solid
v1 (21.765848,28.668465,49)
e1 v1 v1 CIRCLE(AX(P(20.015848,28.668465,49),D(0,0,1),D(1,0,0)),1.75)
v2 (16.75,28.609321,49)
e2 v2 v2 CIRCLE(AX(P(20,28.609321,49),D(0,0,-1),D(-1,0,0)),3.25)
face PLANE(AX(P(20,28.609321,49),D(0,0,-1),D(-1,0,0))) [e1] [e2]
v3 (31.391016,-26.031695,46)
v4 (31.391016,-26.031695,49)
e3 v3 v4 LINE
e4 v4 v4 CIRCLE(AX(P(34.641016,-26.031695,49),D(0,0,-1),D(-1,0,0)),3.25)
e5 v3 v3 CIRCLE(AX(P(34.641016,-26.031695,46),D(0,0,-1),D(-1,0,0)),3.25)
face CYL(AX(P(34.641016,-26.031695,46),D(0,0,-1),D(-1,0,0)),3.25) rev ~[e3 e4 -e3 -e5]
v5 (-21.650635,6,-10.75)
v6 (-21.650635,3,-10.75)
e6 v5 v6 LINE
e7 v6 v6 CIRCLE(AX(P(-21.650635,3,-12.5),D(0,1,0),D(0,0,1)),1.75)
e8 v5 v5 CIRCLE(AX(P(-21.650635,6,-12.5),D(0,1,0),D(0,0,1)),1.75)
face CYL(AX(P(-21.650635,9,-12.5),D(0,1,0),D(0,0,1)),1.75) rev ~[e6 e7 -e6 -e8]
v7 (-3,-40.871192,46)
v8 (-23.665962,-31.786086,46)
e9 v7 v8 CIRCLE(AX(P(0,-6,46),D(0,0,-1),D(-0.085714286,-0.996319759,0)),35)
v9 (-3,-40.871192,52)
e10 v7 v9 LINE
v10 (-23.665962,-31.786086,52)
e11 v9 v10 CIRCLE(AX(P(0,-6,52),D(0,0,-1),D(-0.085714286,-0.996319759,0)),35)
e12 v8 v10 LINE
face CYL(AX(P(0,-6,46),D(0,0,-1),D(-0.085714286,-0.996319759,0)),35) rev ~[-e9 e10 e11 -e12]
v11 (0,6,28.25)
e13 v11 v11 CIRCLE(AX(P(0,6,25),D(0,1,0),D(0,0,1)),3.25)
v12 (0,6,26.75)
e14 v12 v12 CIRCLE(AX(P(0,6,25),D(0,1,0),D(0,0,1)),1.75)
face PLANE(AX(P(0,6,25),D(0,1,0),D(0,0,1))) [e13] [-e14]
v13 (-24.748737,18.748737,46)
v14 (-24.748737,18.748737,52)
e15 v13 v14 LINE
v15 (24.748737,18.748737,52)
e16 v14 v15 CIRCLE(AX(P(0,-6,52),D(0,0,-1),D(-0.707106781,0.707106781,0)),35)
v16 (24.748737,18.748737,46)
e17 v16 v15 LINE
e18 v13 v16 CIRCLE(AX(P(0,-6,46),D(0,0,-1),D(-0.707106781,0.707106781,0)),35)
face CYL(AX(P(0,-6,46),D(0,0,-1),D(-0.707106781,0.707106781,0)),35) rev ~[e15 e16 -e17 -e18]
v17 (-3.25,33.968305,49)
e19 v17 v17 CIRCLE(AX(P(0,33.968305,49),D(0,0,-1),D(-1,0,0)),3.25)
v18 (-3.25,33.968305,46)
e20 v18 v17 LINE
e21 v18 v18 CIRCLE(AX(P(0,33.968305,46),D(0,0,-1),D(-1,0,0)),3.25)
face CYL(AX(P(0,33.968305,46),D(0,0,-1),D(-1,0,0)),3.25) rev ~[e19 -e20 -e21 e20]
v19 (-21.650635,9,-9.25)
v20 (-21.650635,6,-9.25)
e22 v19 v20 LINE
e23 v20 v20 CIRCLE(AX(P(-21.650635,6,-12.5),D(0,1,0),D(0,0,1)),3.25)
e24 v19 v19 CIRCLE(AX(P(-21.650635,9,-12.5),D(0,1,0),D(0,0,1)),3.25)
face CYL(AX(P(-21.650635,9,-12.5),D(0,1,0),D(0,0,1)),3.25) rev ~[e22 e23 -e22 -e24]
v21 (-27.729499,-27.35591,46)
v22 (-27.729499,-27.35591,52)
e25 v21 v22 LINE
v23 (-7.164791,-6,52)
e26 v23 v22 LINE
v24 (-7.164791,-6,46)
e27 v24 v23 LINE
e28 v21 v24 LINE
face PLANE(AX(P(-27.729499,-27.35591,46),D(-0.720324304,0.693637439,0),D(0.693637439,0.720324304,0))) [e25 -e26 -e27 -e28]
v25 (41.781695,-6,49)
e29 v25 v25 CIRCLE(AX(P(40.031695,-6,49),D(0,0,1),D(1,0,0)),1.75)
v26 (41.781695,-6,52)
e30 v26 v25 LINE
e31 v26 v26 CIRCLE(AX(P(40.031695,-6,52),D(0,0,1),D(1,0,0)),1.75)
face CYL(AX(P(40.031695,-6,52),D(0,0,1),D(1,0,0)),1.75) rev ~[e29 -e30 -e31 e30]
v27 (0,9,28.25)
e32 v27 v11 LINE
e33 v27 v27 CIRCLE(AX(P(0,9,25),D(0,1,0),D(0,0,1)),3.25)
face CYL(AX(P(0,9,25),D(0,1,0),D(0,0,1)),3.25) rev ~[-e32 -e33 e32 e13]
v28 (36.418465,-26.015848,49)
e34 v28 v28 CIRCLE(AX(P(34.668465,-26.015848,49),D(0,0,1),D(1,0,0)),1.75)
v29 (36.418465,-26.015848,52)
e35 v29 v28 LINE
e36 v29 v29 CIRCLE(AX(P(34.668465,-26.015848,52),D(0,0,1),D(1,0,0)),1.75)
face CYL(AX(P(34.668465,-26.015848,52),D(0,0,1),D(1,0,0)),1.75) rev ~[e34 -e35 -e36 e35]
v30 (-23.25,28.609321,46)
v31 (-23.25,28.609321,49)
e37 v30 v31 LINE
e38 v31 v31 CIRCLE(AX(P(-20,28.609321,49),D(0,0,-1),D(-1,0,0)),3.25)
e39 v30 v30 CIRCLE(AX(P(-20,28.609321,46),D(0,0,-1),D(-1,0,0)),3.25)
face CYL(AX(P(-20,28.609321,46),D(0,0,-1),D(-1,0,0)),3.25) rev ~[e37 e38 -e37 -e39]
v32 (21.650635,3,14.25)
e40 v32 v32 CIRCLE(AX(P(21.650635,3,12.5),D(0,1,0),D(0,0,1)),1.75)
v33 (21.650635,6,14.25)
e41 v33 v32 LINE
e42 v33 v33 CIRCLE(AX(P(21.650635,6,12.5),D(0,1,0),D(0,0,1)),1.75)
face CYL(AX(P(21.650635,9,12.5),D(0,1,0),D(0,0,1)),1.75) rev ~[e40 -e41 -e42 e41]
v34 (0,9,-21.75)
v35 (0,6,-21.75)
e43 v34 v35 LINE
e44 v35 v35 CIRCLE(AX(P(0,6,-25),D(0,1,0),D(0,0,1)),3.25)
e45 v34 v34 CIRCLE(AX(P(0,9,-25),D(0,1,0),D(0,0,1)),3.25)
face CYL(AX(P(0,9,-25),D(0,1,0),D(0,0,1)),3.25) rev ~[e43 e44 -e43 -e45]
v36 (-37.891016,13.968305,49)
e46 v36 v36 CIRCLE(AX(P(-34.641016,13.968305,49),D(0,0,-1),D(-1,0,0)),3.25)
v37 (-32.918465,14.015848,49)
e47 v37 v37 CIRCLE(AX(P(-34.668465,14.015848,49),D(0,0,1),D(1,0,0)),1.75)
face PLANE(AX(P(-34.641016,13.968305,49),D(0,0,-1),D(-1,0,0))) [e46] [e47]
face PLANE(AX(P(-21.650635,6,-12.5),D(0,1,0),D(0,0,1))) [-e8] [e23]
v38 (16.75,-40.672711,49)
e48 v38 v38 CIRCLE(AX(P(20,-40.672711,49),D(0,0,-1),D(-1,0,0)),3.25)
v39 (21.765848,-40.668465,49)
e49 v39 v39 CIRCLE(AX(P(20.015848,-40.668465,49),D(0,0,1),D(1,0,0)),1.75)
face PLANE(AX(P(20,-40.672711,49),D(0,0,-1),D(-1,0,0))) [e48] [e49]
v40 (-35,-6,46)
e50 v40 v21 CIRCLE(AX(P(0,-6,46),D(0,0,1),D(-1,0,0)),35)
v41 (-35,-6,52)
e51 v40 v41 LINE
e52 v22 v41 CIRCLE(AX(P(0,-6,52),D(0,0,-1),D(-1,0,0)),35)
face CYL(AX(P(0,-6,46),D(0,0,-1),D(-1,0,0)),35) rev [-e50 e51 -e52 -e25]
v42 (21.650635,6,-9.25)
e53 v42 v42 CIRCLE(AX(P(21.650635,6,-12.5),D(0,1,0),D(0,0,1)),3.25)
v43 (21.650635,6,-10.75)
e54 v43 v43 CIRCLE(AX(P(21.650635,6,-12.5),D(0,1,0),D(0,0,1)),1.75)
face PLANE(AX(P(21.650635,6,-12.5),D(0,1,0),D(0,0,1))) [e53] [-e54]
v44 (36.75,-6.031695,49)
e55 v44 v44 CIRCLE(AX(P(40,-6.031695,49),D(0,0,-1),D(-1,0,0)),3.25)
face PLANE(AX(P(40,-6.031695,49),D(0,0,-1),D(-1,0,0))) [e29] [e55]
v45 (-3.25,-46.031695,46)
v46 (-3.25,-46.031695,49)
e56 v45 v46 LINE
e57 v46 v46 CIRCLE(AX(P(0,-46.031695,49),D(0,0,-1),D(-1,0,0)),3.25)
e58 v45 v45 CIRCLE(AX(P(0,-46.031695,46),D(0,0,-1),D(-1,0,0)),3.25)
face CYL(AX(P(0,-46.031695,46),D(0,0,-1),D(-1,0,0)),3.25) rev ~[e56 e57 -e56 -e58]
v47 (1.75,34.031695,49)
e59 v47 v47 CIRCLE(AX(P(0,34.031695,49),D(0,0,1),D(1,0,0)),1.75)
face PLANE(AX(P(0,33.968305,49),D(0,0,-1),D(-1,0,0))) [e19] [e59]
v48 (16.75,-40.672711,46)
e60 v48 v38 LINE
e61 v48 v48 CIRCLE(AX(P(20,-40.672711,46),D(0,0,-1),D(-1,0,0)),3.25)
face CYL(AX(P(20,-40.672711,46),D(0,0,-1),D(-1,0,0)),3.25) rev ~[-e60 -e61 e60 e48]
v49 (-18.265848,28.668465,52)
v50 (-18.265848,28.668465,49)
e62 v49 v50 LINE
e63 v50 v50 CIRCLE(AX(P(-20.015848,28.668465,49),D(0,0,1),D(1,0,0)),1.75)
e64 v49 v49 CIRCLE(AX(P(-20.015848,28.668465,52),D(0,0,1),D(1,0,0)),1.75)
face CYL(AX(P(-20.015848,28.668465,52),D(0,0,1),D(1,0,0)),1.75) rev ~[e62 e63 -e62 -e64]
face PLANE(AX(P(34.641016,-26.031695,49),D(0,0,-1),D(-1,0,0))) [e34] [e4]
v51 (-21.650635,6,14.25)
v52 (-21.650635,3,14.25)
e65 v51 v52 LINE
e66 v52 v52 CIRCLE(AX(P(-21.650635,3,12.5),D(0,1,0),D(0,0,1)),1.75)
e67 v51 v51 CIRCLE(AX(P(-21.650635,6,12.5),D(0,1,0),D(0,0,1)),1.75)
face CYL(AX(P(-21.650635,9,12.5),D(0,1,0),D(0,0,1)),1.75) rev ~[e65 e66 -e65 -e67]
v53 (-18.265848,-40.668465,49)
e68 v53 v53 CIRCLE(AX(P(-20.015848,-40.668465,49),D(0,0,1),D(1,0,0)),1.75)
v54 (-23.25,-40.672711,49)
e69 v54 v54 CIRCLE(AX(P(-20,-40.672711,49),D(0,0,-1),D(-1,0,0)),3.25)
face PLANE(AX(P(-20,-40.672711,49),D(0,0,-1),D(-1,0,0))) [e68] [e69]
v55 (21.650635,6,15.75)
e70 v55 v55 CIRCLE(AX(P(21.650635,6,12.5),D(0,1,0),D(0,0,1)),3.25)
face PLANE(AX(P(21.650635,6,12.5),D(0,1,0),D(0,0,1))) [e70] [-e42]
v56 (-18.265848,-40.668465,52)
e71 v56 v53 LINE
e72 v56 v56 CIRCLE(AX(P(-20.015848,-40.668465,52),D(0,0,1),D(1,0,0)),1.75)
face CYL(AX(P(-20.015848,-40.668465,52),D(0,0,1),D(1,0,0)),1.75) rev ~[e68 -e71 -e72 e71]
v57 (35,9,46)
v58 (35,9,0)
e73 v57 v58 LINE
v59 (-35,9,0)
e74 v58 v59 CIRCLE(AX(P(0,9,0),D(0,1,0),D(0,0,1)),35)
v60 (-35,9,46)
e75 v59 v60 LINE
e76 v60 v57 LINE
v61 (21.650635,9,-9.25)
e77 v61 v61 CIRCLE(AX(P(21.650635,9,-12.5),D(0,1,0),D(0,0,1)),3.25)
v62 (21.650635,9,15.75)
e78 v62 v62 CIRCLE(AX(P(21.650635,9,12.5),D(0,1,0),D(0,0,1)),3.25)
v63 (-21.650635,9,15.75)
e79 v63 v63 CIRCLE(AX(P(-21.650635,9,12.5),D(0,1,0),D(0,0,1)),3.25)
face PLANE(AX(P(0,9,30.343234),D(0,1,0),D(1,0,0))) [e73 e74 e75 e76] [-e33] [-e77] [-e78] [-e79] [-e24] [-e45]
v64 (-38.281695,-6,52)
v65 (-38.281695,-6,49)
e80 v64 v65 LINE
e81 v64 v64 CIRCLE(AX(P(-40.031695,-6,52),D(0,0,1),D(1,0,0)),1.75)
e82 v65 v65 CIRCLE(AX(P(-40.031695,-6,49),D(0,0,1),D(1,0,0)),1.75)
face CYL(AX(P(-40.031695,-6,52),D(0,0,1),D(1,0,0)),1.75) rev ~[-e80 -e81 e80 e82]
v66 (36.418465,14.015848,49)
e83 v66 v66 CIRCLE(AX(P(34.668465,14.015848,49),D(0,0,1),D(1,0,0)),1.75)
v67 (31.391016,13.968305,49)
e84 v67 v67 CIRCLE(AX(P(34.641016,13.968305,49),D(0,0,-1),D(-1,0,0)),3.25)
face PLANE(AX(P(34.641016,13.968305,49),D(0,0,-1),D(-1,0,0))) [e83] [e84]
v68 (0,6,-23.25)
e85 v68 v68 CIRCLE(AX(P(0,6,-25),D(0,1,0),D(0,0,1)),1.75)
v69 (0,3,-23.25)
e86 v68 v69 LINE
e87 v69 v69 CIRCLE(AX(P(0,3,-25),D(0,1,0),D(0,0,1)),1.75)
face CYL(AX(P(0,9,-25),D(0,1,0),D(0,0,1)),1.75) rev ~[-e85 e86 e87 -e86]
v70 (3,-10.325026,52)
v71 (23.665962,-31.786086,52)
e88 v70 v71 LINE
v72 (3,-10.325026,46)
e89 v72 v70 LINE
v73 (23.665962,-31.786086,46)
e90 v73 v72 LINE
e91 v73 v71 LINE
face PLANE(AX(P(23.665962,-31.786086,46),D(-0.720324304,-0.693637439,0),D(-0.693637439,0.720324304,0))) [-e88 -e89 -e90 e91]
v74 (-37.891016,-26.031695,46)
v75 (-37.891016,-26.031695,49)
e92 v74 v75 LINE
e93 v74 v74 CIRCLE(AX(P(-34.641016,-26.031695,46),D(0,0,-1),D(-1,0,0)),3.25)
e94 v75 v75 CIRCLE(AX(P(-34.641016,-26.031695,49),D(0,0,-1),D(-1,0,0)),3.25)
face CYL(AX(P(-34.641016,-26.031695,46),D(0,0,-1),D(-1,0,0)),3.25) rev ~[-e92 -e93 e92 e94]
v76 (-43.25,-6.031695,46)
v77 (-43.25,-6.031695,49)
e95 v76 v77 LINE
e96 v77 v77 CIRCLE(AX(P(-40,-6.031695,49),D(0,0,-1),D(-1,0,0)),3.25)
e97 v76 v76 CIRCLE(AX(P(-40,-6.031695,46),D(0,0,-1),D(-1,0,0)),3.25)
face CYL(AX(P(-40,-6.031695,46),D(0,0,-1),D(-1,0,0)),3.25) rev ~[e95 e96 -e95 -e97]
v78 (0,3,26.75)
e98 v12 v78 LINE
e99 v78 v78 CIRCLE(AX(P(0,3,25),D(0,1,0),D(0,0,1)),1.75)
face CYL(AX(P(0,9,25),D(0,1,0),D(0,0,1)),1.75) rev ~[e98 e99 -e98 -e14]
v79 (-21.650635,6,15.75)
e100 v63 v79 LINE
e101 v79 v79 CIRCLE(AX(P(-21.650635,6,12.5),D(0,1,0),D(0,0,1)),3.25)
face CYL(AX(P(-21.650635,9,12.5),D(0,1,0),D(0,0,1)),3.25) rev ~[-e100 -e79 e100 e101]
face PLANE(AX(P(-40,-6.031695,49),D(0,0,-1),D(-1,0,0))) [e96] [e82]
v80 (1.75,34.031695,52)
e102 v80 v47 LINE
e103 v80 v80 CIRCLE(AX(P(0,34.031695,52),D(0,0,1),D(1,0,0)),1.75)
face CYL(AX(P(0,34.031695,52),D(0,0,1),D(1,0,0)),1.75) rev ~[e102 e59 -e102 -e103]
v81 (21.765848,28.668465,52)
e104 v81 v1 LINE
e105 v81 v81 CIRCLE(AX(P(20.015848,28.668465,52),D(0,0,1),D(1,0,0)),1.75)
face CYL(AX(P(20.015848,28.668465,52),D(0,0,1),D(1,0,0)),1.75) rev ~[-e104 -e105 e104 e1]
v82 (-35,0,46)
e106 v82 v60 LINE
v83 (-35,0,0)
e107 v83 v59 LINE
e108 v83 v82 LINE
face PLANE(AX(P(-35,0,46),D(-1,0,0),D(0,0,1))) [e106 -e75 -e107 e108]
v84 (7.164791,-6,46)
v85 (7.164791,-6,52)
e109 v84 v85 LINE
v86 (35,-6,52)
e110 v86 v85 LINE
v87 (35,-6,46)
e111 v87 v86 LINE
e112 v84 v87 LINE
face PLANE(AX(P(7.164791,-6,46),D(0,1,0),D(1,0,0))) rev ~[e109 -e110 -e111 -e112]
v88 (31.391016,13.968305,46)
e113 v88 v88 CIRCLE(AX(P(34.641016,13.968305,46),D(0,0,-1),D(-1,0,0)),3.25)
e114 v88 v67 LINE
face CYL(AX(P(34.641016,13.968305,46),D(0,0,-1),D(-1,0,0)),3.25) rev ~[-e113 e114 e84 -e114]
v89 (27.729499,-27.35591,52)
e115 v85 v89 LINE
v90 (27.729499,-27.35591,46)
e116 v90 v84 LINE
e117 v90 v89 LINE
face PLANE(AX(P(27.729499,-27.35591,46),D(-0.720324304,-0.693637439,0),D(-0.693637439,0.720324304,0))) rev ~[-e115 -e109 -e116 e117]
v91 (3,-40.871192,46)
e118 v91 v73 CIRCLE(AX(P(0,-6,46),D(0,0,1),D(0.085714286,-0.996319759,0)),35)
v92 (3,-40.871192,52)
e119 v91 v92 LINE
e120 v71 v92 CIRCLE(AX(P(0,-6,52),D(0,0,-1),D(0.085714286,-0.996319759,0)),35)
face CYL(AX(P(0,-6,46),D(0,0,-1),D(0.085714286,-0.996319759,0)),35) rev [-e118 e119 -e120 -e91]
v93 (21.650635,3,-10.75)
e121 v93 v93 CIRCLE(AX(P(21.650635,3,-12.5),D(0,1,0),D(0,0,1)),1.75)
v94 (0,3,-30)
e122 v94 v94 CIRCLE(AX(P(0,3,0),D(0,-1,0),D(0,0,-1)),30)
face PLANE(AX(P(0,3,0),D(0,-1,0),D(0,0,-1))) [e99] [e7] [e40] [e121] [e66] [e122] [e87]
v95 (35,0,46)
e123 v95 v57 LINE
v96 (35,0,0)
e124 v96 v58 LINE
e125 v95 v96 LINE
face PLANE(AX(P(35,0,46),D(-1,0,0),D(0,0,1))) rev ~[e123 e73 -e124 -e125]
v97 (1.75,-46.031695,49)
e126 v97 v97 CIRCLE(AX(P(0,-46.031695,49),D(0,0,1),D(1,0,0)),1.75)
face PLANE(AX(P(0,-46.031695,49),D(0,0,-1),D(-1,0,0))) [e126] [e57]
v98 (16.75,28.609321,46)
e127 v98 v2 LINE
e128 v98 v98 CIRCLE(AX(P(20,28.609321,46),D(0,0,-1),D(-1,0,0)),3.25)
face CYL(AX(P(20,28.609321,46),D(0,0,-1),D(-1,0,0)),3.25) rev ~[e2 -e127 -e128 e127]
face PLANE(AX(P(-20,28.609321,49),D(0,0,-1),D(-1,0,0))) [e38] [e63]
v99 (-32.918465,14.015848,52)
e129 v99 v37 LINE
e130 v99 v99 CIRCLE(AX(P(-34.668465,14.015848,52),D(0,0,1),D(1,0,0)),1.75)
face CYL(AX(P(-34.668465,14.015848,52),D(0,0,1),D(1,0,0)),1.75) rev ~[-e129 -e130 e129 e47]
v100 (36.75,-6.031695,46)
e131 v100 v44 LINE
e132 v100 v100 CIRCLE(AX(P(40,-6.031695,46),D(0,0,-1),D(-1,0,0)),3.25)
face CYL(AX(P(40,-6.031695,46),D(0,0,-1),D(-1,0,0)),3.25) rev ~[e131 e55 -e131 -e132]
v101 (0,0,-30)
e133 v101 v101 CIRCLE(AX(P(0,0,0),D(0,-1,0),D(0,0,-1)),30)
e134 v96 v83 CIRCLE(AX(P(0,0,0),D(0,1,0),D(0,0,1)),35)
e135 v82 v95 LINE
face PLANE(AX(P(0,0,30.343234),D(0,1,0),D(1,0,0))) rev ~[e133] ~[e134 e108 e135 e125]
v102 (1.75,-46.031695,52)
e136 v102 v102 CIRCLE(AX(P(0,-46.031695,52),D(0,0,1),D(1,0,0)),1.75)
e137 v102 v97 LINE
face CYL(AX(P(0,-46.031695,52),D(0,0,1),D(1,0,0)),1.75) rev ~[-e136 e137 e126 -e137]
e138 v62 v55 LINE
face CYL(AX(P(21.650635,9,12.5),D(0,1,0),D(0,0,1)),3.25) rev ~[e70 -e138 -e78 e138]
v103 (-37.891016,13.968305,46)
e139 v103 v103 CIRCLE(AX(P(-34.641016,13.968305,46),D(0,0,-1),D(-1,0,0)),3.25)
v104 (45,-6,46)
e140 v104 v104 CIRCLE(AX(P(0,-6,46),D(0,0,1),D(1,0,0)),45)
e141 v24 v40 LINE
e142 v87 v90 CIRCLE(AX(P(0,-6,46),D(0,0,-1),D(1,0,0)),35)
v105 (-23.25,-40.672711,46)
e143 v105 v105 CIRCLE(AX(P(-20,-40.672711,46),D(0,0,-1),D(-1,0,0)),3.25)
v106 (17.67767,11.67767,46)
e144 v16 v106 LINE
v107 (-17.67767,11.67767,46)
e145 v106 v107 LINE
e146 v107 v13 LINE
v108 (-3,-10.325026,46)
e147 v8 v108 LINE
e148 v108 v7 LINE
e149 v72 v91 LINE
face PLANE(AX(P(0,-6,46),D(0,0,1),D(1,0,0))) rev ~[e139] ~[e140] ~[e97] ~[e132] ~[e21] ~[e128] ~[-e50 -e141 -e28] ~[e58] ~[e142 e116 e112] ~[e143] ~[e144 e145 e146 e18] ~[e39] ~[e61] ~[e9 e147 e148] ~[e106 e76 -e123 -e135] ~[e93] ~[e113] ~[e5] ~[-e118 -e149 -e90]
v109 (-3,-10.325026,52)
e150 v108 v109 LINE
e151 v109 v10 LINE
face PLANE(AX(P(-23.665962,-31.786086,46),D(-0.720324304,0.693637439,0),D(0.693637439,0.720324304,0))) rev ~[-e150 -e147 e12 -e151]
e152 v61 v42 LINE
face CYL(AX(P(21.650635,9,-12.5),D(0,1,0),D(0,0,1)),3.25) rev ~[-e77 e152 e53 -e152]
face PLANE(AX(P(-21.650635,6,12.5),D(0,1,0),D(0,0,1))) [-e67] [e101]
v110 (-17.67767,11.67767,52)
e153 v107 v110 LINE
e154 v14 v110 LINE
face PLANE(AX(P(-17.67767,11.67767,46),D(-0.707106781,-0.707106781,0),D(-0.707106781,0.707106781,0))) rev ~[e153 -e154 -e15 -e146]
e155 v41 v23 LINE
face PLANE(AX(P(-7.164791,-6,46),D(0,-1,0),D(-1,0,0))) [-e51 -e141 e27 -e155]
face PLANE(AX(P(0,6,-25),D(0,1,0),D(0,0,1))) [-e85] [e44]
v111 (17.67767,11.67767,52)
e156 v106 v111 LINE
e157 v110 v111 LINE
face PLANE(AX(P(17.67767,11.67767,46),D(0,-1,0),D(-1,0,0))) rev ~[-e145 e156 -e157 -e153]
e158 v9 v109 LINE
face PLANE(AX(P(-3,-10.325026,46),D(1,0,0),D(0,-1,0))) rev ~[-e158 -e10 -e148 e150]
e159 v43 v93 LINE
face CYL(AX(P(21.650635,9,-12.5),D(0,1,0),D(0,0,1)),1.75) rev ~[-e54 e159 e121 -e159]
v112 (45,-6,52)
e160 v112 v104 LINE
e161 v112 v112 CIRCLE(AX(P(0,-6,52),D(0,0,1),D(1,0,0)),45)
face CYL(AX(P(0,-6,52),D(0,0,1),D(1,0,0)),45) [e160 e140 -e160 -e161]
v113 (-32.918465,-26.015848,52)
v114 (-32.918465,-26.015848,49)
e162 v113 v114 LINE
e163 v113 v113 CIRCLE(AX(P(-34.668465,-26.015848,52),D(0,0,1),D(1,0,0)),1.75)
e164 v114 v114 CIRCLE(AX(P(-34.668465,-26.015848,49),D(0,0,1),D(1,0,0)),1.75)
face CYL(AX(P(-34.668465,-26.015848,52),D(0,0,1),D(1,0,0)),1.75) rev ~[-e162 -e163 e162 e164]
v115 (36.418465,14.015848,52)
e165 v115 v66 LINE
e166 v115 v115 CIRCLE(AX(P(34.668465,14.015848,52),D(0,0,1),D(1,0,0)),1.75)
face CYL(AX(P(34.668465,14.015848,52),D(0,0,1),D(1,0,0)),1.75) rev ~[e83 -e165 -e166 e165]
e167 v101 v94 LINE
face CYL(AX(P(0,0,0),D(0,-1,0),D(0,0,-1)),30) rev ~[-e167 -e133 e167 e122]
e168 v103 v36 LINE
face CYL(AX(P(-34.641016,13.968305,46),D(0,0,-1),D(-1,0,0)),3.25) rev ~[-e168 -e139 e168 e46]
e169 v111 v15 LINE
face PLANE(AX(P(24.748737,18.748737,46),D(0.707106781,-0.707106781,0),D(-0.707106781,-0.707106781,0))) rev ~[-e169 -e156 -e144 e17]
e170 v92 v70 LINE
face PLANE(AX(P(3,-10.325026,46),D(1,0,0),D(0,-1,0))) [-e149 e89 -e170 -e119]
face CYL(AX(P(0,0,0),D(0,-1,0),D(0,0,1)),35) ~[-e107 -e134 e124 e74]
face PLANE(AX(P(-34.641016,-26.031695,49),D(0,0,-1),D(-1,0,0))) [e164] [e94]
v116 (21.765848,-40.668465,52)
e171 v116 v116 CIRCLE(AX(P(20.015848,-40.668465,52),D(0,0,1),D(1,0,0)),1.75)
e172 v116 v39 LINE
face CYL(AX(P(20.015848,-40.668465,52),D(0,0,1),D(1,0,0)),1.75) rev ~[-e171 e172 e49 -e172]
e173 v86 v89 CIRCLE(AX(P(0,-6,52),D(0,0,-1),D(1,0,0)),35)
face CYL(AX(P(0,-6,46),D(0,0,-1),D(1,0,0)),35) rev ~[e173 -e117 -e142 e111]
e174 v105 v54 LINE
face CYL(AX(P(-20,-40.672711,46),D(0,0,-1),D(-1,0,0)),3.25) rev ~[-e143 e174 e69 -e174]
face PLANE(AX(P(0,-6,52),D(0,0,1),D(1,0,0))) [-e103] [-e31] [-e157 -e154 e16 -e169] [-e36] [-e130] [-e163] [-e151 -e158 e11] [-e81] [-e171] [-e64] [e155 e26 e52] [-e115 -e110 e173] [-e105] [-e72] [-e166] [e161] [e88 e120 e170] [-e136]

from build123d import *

# Parameters (mm, degrees)
SKETCH1_R            = 35
BOSS_EXTRUDE1_DEPTH  = 9
SKETCH2_R            = 30
CUT_EXTRUDE1_DEPTH   = 3
SKETCH3_R            = 1.75
CUT_EXTRUDE2_DEPTH   = 51.309044912
SKETCH4_R            = 3.25
CUT_EXTRUDE3_DEPTH   = 3
BOSS_EXTRUDE3_START  = -9
BOSS_EXTRUDE3_DEPTH  = 9
SKETCH21_W           = 70
SKETCH21_H           = 6
BOSS_EXTRUDE8_DEPTH  = 6
SKETCH26_R           = 45
BOSS_EXTRUDE12_DEPTH = 6
CUT_EXTRUDE20_REACH  = 112.431
SKETCH27_R           = 1.75
SKETCH28_R           = 3.25
CUT_EXTRUDE21_DEPTH  = 3
CUT_EXTRUDE23_DEPTH  = 106.768615383


with BuildPart() as part:
    # Sketch1 → Boss-Extrude1 (new body)
    with BuildSketch(Plane(origin=(0, 0, 0), x_dir=(1, 0, 0), z_dir=(0, 1, 0))):
        with Locations(Location((0, 0, 0), (0, 0, 270))):
            Circle(SKETCH1_R)
    extrude(amount=BOSS_EXTRUDE1_DEPTH)

    # Sketch2 → Cut-Extrude1 (cut)
    with BuildSketch(Plane.XZ):
        with Locations(Location((0, 0, 0), (0, 0, 270))):
            Circle(SKETCH2_R)
    extrude(amount=-CUT_EXTRUDE1_DEPTH, mode=Mode.SUBTRACT)

    # Sketch3 → Cut-Extrude2 (cut, through all)
    with BuildSketch(Plane(origin=(0, 9, 0), x_dir=(1, 0, 0), z_dir=(0, 1, 0))):
        with Locations(Location((0, -25, 0), (0, 0, 270))):
            Circle(SKETCH3_R)
        with Locations(Location((-21.650635095, -12.5, 0), (0, 0, 270))):
            Circle(SKETCH3_R)
        with Locations(Location((-21.650635095, 12.5, 0), (0, 0, 270))):
            Circle(SKETCH3_R)
        with Locations(Location((0, 25, 0), (0, 0, 270))):
            Circle(SKETCH3_R)
        with Locations(Location((21.650635095, 12.5, 0), (0, 0, 270))):
            Circle(SKETCH3_R)
        with Locations(Location((21.650635095, -12.5, 0), (0, 0, 270))):
            Circle(SKETCH3_R)
    extrude(amount=-CUT_EXTRUDE2_DEPTH, mode=Mode.SUBTRACT)

    # Sketch4 → Cut-Extrude3 (cut)
    with BuildSketch(Plane(origin=(0, 9, 0), x_dir=(1, 0, 0), z_dir=(0, 1, 0))):
        with Locations(Location((0, 25, 0), (0, 0, 270))):
            Circle(SKETCH4_R)
        with Locations(Location((21.650635095, 12.5, 0), (0, 0, 270))):
            Circle(SKETCH4_R)
        with Locations(Location((21.650635095, -12.5, 0), (0, 0, 270))):
            Circle(SKETCH4_R)
        with Locations(Location((0, -25, 0), (0, 0, 270))):
            Circle(SKETCH4_R)
        with Locations(Location((-21.650635095, -12.5, 0), (0, 0, 270))):
            Circle(SKETCH4_R)
        with Locations(Location((-21.650635095, 12.5, 0), (0, 0, 270))):
            Circle(SKETCH4_R)
    extrude(amount=-CUT_EXTRUDE3_DEPTH, mode=Mode.SUBTRACT)

    # Sketch5 → Boss-Extrude3 (add)
    with BuildSketch(Plane(origin=(0, 9, 0), x_dir=(1, 0, 0), z_dir=(0, 1, 0)).offset(BOSS_EXTRUDE3_START)):
        with BuildLine():
            ThreePointArc((35, 0), (0, -35), (-35, 0))
            Line((-35, 0), (-35, -52))
            Line((-35, -52), (35, -52))
            Line((35, -52), (35, 0))
        make_face()
    extrude(amount=BOSS_EXTRUDE3_DEPTH)

    # Sketch21 → Boss-Extrude8 (add)
    with BuildSketch(Plane.XZ):
        with Locations((0, 49)):
            Rectangle(SKETCH21_W, SKETCH21_H)
    extrude(amount=BOSS_EXTRUDE8_DEPTH)

    # Sketch26 → Boss-Extrude12 (add)
    with BuildSketch(Plane.XY.offset(52)):
        with Locations((0, -6)):
            Circle(SKETCH26_R)
    extrude(amount=-BOSS_EXTRUDE12_DEPTH)

    # Sketch27 → Cut-Extrude20 (cut, up to next)
    with BuildSketch(Plane.XY.offset(52), mode=Mode.PRIVATE) as cut_extrude20_sk1:
        with Locations((0, -46.031695342)):
            Circle(SKETCH27_R)
    cut_extrude20_tool1 = extrude(cut_extrude20_sk1.sketch, amount=-CUT_EXTRUDE20_REACH, mode=Mode.PRIVATE) & part.part
    # Sketch27 → Cut-Extrude20 (cut, up to next)
    with BuildSketch(Plane.XY.offset(52), mode=Mode.PRIVATE) as cut_extrude20_sk2:
        with Locations((-20.015847671, -40.668465123)):
            Circle(SKETCH27_R)
    cut_extrude20_tool2 = extrude(cut_extrude20_sk2.sketch, amount=-CUT_EXTRUDE20_REACH, mode=Mode.PRIVATE) & part.part
    # Sketch27 → Cut-Extrude20 (cut, up to next)
    with BuildSketch(Plane.XY.offset(52), mode=Mode.PRIVATE) as cut_extrude20_sk3:
        with Locations((-34.668465123, -26.015847671)):
            Circle(SKETCH27_R)
    cut_extrude20_tool3 = extrude(cut_extrude20_sk3.sketch, amount=-CUT_EXTRUDE20_REACH, mode=Mode.PRIVATE) & part.part
    # Sketch27 → Cut-Extrude20 (cut, up to next)
    with BuildSketch(Plane.XY.offset(52), mode=Mode.PRIVATE) as cut_extrude20_sk4:
        with Locations((-40.031695342, -6)):
            Circle(SKETCH27_R)
    cut_extrude20_tool4 = extrude(cut_extrude20_sk4.sketch, amount=-CUT_EXTRUDE20_REACH, mode=Mode.PRIVATE) & part.part
    # Sketch27 → Cut-Extrude20 (cut, up to next)
    with BuildSketch(Plane.XY.offset(52), mode=Mode.PRIVATE) as cut_extrude20_sk5:
        with Locations((-34.668465123, 14.015847671)):
            Circle(SKETCH27_R)
    cut_extrude20_tool5 = extrude(cut_extrude20_sk5.sketch, amount=-CUT_EXTRUDE20_REACH, mode=Mode.PRIVATE) & part.part
    # Sketch27 → Cut-Extrude20 (cut, up to next)
    with BuildSketch(Plane.XY.offset(52), mode=Mode.PRIVATE) as cut_extrude20_sk6:
        with Locations((-20.015847671, 28.668465123)):
            Circle(SKETCH27_R)
    cut_extrude20_tool6 = extrude(cut_extrude20_sk6.sketch, amount=-CUT_EXTRUDE20_REACH, mode=Mode.PRIVATE) & part.part
    # Sketch27 → Cut-Extrude20 (cut, up to next)
    with BuildSketch(Plane.XY.offset(52), mode=Mode.PRIVATE) as cut_extrude20_sk7:
        with Locations((0, 34.031695342)):
            Circle(SKETCH27_R)
    cut_extrude20_tool7 = extrude(cut_extrude20_sk7.sketch, amount=-CUT_EXTRUDE20_REACH, mode=Mode.PRIVATE) & part.part
    # Sketch27 → Cut-Extrude20 (cut, up to next)
    with BuildSketch(Plane.XY.offset(52), mode=Mode.PRIVATE) as cut_extrude20_sk8:
        with Locations((20.015847671, 28.668465123)):
            Circle(SKETCH27_R)
    cut_extrude20_tool8 = extrude(cut_extrude20_sk8.sketch, amount=-CUT_EXTRUDE20_REACH, mode=Mode.PRIVATE) & part.part
    # Sketch27 → Cut-Extrude20 (cut, up to next)
    with BuildSketch(Plane.XY.offset(52), mode=Mode.PRIVATE) as cut_extrude20_sk9:
        with Locations((34.668465123, 14.015847671)):
            Circle(SKETCH27_R)
    cut_extrude20_tool9 = extrude(cut_extrude20_sk9.sketch, amount=-CUT_EXTRUDE20_REACH, mode=Mode.PRIVATE) & part.part
    # Sketch27 → Cut-Extrude20 (cut, up to next)
    with BuildSketch(Plane.XY.offset(52), mode=Mode.PRIVATE) as cut_extrude20_sk10:
        with Locations((40.031695342, -6)):
            Circle(SKETCH27_R)
    cut_extrude20_tool10 = extrude(cut_extrude20_sk10.sketch, amount=-CUT_EXTRUDE20_REACH, mode=Mode.PRIVATE) & part.part
    # Sketch27 → Cut-Extrude20 (cut, up to next)
    with BuildSketch(Plane.XY.offset(52), mode=Mode.PRIVATE) as cut_extrude20_sk11:
        with Locations((34.668465123, -26.015847671)):
            Circle(SKETCH27_R)
    cut_extrude20_tool11 = extrude(cut_extrude20_sk11.sketch, amount=-CUT_EXTRUDE20_REACH, mode=Mode.PRIVATE) & part.part
    # Sketch27 → Cut-Extrude20 (cut, up to next)
    with BuildSketch(Plane.XY.offset(52), mode=Mode.PRIVATE) as cut_extrude20_sk12:
        with Locations((20.015847671, -40.668465123)):
            Circle(SKETCH27_R)
    cut_extrude20_tool12 = extrude(cut_extrude20_sk12.sketch, amount=-CUT_EXTRUDE20_REACH, mode=Mode.PRIVATE) & part.part
    add(cut_extrude20_tool1.solids().sort_by_distance((0, -46.031695, 52))[0], mode=Mode.SUBTRACT)
    add(cut_extrude20_tool2.solids().sort_by_distance((-20.015848, -40.668465, 52))[0], mode=Mode.SUBTRACT)
    add(cut_extrude20_tool3.solids().sort_by_distance((-34.668465, -26.015848, 52))[0], mode=Mode.SUBTRACT)
    add(cut_extrude20_tool4.solids().sort_by_distance((-40.031695, -6, 52))[0], mode=Mode.SUBTRACT)
    add(cut_extrude20_tool5.solids().sort_by_distance((-34.668465, 14.015848, 52))[0], mode=Mode.SUBTRACT)
    add(cut_extrude20_tool6.solids().sort_by_distance((-20.015848, 28.668465, 52))[0], mode=Mode.SUBTRACT)
    add(cut_extrude20_tool7.solids().sort_by_distance((0, 34.031695, 52))[0], mode=Mode.SUBTRACT)
    add(cut_extrude20_tool8.solids().sort_by_distance((20.015848, 28.668465, 52))[0], mode=Mode.SUBTRACT)
    add(cut_extrude20_tool9.solids().sort_by_distance((34.668465, 14.015848, 52))[0], mode=Mode.SUBTRACT)
    add(cut_extrude20_tool10.solids().sort_by_distance((40.031695, -6, 52))[0], mode=Mode.SUBTRACT)
    add(cut_extrude20_tool11.solids().sort_by_distance((34.668465, -26.015848, 52))[0], mode=Mode.SUBTRACT)
    add(cut_extrude20_tool12.solids().sort_by_distance((20.015848, -40.668465, 52))[0], mode=Mode.SUBTRACT)

    # Sketch28 → Cut-Extrude21 (cut)
    with BuildSketch(Plane(origin=(0, 0, 46), x_dir=(-1, 0, 0), z_dir=(0, 0, -1))):
        with Locations((0, -46.031695342)):
            Circle(SKETCH28_R)
        with Locations((-20, -40.672711494)):
            Circle(SKETCH28_R)
        with Locations((-34.641016151, -26.031695342)):
            Circle(SKETCH28_R)
        with Locations((-40, -6.031695342)):
            Circle(SKETCH28_R)
        with Locations((-34.641016151, 13.968304658)):
            Circle(SKETCH28_R)
        with Locations((-20, 28.609320809)):
            Circle(SKETCH28_R)
        with Locations((0, 33.968304658)):
            Circle(SKETCH28_R)
        with Locations((20, 28.609320809)):
            Circle(SKETCH28_R)
        with Locations((34.641016151, 13.968304658)):
            Circle(SKETCH28_R)
        with Locations((40, -6.031695342)):
            Circle(SKETCH28_R)
        with Locations((34.641016151, -26.031695342)):
            Circle(SKETCH28_R)
        with Locations((20, -40.672711494)):
            Circle(SKETCH28_R)
    extrude(amount=-CUT_EXTRUDE21_DEPTH, mode=Mode.SUBTRACT)

    # Sketch30 → Cut-Extrude23 (cut, through all)
    with BuildSketch(Plane(origin=(0, 0, 46), x_dir=(-1, 0, 0), z_dir=(0, 0, -1))):
        with BuildLine():
            Line((-3, -10.325026058), (-3, -40.871191548))
            ThreePointArc((-3, -40.871191548), (-14.085565968, -38.040549798), (-23.665962091, -31.786086138))
            Line((-23.665962091, -31.786086138), (-3, -10.325026058))
        make_face()
        with BuildLine():
            Line((3, -10.325026058), (3, -40.871191548))
            ThreePointArc((3, -40.871191548), (14.085565968, -38.040549798), (23.665962091, -31.786086138))
            Line((23.665962091, -31.786086138), (3, -10.325026058))
        make_face()
        with BuildLine():
            Line((-7.164790753, -6), (-35, -6))
            ThreePointArc((-35, -6), (-33.132555391, -17.279794913), (-27.729498669, -27.355910272))
            Line((-27.729498669, -27.355910272), (-7.164790753, -6))
        make_face()
        with BuildLine():
            Line((7.164790753, -6), (35, -6))
            ThreePointArc((35, -6), (33.132555391, -17.279794913), (27.729498669, -27.355910272))
            Line((27.729498669, -27.355910272), (7.164790753, -6))
        make_face()
        with BuildLine():
            Line((-24.748737342, 18.748737342), (-17.67766953, 11.67766953))
            Line((-17.67766953, 11.67766953), (17.67766953, 11.67766953))
            Line((17.67766953, 11.67766953), (24.748737342, 18.748737342))
            ThreePointArc((24.748737342, 18.748737342), (0, 29), (-24.748737342, 18.748737342))
        make_face()
    extrude(amount=-CUT_EXTRUDE23_DEPTH, mode=Mode.SUBTRACT)


solid = part.part
